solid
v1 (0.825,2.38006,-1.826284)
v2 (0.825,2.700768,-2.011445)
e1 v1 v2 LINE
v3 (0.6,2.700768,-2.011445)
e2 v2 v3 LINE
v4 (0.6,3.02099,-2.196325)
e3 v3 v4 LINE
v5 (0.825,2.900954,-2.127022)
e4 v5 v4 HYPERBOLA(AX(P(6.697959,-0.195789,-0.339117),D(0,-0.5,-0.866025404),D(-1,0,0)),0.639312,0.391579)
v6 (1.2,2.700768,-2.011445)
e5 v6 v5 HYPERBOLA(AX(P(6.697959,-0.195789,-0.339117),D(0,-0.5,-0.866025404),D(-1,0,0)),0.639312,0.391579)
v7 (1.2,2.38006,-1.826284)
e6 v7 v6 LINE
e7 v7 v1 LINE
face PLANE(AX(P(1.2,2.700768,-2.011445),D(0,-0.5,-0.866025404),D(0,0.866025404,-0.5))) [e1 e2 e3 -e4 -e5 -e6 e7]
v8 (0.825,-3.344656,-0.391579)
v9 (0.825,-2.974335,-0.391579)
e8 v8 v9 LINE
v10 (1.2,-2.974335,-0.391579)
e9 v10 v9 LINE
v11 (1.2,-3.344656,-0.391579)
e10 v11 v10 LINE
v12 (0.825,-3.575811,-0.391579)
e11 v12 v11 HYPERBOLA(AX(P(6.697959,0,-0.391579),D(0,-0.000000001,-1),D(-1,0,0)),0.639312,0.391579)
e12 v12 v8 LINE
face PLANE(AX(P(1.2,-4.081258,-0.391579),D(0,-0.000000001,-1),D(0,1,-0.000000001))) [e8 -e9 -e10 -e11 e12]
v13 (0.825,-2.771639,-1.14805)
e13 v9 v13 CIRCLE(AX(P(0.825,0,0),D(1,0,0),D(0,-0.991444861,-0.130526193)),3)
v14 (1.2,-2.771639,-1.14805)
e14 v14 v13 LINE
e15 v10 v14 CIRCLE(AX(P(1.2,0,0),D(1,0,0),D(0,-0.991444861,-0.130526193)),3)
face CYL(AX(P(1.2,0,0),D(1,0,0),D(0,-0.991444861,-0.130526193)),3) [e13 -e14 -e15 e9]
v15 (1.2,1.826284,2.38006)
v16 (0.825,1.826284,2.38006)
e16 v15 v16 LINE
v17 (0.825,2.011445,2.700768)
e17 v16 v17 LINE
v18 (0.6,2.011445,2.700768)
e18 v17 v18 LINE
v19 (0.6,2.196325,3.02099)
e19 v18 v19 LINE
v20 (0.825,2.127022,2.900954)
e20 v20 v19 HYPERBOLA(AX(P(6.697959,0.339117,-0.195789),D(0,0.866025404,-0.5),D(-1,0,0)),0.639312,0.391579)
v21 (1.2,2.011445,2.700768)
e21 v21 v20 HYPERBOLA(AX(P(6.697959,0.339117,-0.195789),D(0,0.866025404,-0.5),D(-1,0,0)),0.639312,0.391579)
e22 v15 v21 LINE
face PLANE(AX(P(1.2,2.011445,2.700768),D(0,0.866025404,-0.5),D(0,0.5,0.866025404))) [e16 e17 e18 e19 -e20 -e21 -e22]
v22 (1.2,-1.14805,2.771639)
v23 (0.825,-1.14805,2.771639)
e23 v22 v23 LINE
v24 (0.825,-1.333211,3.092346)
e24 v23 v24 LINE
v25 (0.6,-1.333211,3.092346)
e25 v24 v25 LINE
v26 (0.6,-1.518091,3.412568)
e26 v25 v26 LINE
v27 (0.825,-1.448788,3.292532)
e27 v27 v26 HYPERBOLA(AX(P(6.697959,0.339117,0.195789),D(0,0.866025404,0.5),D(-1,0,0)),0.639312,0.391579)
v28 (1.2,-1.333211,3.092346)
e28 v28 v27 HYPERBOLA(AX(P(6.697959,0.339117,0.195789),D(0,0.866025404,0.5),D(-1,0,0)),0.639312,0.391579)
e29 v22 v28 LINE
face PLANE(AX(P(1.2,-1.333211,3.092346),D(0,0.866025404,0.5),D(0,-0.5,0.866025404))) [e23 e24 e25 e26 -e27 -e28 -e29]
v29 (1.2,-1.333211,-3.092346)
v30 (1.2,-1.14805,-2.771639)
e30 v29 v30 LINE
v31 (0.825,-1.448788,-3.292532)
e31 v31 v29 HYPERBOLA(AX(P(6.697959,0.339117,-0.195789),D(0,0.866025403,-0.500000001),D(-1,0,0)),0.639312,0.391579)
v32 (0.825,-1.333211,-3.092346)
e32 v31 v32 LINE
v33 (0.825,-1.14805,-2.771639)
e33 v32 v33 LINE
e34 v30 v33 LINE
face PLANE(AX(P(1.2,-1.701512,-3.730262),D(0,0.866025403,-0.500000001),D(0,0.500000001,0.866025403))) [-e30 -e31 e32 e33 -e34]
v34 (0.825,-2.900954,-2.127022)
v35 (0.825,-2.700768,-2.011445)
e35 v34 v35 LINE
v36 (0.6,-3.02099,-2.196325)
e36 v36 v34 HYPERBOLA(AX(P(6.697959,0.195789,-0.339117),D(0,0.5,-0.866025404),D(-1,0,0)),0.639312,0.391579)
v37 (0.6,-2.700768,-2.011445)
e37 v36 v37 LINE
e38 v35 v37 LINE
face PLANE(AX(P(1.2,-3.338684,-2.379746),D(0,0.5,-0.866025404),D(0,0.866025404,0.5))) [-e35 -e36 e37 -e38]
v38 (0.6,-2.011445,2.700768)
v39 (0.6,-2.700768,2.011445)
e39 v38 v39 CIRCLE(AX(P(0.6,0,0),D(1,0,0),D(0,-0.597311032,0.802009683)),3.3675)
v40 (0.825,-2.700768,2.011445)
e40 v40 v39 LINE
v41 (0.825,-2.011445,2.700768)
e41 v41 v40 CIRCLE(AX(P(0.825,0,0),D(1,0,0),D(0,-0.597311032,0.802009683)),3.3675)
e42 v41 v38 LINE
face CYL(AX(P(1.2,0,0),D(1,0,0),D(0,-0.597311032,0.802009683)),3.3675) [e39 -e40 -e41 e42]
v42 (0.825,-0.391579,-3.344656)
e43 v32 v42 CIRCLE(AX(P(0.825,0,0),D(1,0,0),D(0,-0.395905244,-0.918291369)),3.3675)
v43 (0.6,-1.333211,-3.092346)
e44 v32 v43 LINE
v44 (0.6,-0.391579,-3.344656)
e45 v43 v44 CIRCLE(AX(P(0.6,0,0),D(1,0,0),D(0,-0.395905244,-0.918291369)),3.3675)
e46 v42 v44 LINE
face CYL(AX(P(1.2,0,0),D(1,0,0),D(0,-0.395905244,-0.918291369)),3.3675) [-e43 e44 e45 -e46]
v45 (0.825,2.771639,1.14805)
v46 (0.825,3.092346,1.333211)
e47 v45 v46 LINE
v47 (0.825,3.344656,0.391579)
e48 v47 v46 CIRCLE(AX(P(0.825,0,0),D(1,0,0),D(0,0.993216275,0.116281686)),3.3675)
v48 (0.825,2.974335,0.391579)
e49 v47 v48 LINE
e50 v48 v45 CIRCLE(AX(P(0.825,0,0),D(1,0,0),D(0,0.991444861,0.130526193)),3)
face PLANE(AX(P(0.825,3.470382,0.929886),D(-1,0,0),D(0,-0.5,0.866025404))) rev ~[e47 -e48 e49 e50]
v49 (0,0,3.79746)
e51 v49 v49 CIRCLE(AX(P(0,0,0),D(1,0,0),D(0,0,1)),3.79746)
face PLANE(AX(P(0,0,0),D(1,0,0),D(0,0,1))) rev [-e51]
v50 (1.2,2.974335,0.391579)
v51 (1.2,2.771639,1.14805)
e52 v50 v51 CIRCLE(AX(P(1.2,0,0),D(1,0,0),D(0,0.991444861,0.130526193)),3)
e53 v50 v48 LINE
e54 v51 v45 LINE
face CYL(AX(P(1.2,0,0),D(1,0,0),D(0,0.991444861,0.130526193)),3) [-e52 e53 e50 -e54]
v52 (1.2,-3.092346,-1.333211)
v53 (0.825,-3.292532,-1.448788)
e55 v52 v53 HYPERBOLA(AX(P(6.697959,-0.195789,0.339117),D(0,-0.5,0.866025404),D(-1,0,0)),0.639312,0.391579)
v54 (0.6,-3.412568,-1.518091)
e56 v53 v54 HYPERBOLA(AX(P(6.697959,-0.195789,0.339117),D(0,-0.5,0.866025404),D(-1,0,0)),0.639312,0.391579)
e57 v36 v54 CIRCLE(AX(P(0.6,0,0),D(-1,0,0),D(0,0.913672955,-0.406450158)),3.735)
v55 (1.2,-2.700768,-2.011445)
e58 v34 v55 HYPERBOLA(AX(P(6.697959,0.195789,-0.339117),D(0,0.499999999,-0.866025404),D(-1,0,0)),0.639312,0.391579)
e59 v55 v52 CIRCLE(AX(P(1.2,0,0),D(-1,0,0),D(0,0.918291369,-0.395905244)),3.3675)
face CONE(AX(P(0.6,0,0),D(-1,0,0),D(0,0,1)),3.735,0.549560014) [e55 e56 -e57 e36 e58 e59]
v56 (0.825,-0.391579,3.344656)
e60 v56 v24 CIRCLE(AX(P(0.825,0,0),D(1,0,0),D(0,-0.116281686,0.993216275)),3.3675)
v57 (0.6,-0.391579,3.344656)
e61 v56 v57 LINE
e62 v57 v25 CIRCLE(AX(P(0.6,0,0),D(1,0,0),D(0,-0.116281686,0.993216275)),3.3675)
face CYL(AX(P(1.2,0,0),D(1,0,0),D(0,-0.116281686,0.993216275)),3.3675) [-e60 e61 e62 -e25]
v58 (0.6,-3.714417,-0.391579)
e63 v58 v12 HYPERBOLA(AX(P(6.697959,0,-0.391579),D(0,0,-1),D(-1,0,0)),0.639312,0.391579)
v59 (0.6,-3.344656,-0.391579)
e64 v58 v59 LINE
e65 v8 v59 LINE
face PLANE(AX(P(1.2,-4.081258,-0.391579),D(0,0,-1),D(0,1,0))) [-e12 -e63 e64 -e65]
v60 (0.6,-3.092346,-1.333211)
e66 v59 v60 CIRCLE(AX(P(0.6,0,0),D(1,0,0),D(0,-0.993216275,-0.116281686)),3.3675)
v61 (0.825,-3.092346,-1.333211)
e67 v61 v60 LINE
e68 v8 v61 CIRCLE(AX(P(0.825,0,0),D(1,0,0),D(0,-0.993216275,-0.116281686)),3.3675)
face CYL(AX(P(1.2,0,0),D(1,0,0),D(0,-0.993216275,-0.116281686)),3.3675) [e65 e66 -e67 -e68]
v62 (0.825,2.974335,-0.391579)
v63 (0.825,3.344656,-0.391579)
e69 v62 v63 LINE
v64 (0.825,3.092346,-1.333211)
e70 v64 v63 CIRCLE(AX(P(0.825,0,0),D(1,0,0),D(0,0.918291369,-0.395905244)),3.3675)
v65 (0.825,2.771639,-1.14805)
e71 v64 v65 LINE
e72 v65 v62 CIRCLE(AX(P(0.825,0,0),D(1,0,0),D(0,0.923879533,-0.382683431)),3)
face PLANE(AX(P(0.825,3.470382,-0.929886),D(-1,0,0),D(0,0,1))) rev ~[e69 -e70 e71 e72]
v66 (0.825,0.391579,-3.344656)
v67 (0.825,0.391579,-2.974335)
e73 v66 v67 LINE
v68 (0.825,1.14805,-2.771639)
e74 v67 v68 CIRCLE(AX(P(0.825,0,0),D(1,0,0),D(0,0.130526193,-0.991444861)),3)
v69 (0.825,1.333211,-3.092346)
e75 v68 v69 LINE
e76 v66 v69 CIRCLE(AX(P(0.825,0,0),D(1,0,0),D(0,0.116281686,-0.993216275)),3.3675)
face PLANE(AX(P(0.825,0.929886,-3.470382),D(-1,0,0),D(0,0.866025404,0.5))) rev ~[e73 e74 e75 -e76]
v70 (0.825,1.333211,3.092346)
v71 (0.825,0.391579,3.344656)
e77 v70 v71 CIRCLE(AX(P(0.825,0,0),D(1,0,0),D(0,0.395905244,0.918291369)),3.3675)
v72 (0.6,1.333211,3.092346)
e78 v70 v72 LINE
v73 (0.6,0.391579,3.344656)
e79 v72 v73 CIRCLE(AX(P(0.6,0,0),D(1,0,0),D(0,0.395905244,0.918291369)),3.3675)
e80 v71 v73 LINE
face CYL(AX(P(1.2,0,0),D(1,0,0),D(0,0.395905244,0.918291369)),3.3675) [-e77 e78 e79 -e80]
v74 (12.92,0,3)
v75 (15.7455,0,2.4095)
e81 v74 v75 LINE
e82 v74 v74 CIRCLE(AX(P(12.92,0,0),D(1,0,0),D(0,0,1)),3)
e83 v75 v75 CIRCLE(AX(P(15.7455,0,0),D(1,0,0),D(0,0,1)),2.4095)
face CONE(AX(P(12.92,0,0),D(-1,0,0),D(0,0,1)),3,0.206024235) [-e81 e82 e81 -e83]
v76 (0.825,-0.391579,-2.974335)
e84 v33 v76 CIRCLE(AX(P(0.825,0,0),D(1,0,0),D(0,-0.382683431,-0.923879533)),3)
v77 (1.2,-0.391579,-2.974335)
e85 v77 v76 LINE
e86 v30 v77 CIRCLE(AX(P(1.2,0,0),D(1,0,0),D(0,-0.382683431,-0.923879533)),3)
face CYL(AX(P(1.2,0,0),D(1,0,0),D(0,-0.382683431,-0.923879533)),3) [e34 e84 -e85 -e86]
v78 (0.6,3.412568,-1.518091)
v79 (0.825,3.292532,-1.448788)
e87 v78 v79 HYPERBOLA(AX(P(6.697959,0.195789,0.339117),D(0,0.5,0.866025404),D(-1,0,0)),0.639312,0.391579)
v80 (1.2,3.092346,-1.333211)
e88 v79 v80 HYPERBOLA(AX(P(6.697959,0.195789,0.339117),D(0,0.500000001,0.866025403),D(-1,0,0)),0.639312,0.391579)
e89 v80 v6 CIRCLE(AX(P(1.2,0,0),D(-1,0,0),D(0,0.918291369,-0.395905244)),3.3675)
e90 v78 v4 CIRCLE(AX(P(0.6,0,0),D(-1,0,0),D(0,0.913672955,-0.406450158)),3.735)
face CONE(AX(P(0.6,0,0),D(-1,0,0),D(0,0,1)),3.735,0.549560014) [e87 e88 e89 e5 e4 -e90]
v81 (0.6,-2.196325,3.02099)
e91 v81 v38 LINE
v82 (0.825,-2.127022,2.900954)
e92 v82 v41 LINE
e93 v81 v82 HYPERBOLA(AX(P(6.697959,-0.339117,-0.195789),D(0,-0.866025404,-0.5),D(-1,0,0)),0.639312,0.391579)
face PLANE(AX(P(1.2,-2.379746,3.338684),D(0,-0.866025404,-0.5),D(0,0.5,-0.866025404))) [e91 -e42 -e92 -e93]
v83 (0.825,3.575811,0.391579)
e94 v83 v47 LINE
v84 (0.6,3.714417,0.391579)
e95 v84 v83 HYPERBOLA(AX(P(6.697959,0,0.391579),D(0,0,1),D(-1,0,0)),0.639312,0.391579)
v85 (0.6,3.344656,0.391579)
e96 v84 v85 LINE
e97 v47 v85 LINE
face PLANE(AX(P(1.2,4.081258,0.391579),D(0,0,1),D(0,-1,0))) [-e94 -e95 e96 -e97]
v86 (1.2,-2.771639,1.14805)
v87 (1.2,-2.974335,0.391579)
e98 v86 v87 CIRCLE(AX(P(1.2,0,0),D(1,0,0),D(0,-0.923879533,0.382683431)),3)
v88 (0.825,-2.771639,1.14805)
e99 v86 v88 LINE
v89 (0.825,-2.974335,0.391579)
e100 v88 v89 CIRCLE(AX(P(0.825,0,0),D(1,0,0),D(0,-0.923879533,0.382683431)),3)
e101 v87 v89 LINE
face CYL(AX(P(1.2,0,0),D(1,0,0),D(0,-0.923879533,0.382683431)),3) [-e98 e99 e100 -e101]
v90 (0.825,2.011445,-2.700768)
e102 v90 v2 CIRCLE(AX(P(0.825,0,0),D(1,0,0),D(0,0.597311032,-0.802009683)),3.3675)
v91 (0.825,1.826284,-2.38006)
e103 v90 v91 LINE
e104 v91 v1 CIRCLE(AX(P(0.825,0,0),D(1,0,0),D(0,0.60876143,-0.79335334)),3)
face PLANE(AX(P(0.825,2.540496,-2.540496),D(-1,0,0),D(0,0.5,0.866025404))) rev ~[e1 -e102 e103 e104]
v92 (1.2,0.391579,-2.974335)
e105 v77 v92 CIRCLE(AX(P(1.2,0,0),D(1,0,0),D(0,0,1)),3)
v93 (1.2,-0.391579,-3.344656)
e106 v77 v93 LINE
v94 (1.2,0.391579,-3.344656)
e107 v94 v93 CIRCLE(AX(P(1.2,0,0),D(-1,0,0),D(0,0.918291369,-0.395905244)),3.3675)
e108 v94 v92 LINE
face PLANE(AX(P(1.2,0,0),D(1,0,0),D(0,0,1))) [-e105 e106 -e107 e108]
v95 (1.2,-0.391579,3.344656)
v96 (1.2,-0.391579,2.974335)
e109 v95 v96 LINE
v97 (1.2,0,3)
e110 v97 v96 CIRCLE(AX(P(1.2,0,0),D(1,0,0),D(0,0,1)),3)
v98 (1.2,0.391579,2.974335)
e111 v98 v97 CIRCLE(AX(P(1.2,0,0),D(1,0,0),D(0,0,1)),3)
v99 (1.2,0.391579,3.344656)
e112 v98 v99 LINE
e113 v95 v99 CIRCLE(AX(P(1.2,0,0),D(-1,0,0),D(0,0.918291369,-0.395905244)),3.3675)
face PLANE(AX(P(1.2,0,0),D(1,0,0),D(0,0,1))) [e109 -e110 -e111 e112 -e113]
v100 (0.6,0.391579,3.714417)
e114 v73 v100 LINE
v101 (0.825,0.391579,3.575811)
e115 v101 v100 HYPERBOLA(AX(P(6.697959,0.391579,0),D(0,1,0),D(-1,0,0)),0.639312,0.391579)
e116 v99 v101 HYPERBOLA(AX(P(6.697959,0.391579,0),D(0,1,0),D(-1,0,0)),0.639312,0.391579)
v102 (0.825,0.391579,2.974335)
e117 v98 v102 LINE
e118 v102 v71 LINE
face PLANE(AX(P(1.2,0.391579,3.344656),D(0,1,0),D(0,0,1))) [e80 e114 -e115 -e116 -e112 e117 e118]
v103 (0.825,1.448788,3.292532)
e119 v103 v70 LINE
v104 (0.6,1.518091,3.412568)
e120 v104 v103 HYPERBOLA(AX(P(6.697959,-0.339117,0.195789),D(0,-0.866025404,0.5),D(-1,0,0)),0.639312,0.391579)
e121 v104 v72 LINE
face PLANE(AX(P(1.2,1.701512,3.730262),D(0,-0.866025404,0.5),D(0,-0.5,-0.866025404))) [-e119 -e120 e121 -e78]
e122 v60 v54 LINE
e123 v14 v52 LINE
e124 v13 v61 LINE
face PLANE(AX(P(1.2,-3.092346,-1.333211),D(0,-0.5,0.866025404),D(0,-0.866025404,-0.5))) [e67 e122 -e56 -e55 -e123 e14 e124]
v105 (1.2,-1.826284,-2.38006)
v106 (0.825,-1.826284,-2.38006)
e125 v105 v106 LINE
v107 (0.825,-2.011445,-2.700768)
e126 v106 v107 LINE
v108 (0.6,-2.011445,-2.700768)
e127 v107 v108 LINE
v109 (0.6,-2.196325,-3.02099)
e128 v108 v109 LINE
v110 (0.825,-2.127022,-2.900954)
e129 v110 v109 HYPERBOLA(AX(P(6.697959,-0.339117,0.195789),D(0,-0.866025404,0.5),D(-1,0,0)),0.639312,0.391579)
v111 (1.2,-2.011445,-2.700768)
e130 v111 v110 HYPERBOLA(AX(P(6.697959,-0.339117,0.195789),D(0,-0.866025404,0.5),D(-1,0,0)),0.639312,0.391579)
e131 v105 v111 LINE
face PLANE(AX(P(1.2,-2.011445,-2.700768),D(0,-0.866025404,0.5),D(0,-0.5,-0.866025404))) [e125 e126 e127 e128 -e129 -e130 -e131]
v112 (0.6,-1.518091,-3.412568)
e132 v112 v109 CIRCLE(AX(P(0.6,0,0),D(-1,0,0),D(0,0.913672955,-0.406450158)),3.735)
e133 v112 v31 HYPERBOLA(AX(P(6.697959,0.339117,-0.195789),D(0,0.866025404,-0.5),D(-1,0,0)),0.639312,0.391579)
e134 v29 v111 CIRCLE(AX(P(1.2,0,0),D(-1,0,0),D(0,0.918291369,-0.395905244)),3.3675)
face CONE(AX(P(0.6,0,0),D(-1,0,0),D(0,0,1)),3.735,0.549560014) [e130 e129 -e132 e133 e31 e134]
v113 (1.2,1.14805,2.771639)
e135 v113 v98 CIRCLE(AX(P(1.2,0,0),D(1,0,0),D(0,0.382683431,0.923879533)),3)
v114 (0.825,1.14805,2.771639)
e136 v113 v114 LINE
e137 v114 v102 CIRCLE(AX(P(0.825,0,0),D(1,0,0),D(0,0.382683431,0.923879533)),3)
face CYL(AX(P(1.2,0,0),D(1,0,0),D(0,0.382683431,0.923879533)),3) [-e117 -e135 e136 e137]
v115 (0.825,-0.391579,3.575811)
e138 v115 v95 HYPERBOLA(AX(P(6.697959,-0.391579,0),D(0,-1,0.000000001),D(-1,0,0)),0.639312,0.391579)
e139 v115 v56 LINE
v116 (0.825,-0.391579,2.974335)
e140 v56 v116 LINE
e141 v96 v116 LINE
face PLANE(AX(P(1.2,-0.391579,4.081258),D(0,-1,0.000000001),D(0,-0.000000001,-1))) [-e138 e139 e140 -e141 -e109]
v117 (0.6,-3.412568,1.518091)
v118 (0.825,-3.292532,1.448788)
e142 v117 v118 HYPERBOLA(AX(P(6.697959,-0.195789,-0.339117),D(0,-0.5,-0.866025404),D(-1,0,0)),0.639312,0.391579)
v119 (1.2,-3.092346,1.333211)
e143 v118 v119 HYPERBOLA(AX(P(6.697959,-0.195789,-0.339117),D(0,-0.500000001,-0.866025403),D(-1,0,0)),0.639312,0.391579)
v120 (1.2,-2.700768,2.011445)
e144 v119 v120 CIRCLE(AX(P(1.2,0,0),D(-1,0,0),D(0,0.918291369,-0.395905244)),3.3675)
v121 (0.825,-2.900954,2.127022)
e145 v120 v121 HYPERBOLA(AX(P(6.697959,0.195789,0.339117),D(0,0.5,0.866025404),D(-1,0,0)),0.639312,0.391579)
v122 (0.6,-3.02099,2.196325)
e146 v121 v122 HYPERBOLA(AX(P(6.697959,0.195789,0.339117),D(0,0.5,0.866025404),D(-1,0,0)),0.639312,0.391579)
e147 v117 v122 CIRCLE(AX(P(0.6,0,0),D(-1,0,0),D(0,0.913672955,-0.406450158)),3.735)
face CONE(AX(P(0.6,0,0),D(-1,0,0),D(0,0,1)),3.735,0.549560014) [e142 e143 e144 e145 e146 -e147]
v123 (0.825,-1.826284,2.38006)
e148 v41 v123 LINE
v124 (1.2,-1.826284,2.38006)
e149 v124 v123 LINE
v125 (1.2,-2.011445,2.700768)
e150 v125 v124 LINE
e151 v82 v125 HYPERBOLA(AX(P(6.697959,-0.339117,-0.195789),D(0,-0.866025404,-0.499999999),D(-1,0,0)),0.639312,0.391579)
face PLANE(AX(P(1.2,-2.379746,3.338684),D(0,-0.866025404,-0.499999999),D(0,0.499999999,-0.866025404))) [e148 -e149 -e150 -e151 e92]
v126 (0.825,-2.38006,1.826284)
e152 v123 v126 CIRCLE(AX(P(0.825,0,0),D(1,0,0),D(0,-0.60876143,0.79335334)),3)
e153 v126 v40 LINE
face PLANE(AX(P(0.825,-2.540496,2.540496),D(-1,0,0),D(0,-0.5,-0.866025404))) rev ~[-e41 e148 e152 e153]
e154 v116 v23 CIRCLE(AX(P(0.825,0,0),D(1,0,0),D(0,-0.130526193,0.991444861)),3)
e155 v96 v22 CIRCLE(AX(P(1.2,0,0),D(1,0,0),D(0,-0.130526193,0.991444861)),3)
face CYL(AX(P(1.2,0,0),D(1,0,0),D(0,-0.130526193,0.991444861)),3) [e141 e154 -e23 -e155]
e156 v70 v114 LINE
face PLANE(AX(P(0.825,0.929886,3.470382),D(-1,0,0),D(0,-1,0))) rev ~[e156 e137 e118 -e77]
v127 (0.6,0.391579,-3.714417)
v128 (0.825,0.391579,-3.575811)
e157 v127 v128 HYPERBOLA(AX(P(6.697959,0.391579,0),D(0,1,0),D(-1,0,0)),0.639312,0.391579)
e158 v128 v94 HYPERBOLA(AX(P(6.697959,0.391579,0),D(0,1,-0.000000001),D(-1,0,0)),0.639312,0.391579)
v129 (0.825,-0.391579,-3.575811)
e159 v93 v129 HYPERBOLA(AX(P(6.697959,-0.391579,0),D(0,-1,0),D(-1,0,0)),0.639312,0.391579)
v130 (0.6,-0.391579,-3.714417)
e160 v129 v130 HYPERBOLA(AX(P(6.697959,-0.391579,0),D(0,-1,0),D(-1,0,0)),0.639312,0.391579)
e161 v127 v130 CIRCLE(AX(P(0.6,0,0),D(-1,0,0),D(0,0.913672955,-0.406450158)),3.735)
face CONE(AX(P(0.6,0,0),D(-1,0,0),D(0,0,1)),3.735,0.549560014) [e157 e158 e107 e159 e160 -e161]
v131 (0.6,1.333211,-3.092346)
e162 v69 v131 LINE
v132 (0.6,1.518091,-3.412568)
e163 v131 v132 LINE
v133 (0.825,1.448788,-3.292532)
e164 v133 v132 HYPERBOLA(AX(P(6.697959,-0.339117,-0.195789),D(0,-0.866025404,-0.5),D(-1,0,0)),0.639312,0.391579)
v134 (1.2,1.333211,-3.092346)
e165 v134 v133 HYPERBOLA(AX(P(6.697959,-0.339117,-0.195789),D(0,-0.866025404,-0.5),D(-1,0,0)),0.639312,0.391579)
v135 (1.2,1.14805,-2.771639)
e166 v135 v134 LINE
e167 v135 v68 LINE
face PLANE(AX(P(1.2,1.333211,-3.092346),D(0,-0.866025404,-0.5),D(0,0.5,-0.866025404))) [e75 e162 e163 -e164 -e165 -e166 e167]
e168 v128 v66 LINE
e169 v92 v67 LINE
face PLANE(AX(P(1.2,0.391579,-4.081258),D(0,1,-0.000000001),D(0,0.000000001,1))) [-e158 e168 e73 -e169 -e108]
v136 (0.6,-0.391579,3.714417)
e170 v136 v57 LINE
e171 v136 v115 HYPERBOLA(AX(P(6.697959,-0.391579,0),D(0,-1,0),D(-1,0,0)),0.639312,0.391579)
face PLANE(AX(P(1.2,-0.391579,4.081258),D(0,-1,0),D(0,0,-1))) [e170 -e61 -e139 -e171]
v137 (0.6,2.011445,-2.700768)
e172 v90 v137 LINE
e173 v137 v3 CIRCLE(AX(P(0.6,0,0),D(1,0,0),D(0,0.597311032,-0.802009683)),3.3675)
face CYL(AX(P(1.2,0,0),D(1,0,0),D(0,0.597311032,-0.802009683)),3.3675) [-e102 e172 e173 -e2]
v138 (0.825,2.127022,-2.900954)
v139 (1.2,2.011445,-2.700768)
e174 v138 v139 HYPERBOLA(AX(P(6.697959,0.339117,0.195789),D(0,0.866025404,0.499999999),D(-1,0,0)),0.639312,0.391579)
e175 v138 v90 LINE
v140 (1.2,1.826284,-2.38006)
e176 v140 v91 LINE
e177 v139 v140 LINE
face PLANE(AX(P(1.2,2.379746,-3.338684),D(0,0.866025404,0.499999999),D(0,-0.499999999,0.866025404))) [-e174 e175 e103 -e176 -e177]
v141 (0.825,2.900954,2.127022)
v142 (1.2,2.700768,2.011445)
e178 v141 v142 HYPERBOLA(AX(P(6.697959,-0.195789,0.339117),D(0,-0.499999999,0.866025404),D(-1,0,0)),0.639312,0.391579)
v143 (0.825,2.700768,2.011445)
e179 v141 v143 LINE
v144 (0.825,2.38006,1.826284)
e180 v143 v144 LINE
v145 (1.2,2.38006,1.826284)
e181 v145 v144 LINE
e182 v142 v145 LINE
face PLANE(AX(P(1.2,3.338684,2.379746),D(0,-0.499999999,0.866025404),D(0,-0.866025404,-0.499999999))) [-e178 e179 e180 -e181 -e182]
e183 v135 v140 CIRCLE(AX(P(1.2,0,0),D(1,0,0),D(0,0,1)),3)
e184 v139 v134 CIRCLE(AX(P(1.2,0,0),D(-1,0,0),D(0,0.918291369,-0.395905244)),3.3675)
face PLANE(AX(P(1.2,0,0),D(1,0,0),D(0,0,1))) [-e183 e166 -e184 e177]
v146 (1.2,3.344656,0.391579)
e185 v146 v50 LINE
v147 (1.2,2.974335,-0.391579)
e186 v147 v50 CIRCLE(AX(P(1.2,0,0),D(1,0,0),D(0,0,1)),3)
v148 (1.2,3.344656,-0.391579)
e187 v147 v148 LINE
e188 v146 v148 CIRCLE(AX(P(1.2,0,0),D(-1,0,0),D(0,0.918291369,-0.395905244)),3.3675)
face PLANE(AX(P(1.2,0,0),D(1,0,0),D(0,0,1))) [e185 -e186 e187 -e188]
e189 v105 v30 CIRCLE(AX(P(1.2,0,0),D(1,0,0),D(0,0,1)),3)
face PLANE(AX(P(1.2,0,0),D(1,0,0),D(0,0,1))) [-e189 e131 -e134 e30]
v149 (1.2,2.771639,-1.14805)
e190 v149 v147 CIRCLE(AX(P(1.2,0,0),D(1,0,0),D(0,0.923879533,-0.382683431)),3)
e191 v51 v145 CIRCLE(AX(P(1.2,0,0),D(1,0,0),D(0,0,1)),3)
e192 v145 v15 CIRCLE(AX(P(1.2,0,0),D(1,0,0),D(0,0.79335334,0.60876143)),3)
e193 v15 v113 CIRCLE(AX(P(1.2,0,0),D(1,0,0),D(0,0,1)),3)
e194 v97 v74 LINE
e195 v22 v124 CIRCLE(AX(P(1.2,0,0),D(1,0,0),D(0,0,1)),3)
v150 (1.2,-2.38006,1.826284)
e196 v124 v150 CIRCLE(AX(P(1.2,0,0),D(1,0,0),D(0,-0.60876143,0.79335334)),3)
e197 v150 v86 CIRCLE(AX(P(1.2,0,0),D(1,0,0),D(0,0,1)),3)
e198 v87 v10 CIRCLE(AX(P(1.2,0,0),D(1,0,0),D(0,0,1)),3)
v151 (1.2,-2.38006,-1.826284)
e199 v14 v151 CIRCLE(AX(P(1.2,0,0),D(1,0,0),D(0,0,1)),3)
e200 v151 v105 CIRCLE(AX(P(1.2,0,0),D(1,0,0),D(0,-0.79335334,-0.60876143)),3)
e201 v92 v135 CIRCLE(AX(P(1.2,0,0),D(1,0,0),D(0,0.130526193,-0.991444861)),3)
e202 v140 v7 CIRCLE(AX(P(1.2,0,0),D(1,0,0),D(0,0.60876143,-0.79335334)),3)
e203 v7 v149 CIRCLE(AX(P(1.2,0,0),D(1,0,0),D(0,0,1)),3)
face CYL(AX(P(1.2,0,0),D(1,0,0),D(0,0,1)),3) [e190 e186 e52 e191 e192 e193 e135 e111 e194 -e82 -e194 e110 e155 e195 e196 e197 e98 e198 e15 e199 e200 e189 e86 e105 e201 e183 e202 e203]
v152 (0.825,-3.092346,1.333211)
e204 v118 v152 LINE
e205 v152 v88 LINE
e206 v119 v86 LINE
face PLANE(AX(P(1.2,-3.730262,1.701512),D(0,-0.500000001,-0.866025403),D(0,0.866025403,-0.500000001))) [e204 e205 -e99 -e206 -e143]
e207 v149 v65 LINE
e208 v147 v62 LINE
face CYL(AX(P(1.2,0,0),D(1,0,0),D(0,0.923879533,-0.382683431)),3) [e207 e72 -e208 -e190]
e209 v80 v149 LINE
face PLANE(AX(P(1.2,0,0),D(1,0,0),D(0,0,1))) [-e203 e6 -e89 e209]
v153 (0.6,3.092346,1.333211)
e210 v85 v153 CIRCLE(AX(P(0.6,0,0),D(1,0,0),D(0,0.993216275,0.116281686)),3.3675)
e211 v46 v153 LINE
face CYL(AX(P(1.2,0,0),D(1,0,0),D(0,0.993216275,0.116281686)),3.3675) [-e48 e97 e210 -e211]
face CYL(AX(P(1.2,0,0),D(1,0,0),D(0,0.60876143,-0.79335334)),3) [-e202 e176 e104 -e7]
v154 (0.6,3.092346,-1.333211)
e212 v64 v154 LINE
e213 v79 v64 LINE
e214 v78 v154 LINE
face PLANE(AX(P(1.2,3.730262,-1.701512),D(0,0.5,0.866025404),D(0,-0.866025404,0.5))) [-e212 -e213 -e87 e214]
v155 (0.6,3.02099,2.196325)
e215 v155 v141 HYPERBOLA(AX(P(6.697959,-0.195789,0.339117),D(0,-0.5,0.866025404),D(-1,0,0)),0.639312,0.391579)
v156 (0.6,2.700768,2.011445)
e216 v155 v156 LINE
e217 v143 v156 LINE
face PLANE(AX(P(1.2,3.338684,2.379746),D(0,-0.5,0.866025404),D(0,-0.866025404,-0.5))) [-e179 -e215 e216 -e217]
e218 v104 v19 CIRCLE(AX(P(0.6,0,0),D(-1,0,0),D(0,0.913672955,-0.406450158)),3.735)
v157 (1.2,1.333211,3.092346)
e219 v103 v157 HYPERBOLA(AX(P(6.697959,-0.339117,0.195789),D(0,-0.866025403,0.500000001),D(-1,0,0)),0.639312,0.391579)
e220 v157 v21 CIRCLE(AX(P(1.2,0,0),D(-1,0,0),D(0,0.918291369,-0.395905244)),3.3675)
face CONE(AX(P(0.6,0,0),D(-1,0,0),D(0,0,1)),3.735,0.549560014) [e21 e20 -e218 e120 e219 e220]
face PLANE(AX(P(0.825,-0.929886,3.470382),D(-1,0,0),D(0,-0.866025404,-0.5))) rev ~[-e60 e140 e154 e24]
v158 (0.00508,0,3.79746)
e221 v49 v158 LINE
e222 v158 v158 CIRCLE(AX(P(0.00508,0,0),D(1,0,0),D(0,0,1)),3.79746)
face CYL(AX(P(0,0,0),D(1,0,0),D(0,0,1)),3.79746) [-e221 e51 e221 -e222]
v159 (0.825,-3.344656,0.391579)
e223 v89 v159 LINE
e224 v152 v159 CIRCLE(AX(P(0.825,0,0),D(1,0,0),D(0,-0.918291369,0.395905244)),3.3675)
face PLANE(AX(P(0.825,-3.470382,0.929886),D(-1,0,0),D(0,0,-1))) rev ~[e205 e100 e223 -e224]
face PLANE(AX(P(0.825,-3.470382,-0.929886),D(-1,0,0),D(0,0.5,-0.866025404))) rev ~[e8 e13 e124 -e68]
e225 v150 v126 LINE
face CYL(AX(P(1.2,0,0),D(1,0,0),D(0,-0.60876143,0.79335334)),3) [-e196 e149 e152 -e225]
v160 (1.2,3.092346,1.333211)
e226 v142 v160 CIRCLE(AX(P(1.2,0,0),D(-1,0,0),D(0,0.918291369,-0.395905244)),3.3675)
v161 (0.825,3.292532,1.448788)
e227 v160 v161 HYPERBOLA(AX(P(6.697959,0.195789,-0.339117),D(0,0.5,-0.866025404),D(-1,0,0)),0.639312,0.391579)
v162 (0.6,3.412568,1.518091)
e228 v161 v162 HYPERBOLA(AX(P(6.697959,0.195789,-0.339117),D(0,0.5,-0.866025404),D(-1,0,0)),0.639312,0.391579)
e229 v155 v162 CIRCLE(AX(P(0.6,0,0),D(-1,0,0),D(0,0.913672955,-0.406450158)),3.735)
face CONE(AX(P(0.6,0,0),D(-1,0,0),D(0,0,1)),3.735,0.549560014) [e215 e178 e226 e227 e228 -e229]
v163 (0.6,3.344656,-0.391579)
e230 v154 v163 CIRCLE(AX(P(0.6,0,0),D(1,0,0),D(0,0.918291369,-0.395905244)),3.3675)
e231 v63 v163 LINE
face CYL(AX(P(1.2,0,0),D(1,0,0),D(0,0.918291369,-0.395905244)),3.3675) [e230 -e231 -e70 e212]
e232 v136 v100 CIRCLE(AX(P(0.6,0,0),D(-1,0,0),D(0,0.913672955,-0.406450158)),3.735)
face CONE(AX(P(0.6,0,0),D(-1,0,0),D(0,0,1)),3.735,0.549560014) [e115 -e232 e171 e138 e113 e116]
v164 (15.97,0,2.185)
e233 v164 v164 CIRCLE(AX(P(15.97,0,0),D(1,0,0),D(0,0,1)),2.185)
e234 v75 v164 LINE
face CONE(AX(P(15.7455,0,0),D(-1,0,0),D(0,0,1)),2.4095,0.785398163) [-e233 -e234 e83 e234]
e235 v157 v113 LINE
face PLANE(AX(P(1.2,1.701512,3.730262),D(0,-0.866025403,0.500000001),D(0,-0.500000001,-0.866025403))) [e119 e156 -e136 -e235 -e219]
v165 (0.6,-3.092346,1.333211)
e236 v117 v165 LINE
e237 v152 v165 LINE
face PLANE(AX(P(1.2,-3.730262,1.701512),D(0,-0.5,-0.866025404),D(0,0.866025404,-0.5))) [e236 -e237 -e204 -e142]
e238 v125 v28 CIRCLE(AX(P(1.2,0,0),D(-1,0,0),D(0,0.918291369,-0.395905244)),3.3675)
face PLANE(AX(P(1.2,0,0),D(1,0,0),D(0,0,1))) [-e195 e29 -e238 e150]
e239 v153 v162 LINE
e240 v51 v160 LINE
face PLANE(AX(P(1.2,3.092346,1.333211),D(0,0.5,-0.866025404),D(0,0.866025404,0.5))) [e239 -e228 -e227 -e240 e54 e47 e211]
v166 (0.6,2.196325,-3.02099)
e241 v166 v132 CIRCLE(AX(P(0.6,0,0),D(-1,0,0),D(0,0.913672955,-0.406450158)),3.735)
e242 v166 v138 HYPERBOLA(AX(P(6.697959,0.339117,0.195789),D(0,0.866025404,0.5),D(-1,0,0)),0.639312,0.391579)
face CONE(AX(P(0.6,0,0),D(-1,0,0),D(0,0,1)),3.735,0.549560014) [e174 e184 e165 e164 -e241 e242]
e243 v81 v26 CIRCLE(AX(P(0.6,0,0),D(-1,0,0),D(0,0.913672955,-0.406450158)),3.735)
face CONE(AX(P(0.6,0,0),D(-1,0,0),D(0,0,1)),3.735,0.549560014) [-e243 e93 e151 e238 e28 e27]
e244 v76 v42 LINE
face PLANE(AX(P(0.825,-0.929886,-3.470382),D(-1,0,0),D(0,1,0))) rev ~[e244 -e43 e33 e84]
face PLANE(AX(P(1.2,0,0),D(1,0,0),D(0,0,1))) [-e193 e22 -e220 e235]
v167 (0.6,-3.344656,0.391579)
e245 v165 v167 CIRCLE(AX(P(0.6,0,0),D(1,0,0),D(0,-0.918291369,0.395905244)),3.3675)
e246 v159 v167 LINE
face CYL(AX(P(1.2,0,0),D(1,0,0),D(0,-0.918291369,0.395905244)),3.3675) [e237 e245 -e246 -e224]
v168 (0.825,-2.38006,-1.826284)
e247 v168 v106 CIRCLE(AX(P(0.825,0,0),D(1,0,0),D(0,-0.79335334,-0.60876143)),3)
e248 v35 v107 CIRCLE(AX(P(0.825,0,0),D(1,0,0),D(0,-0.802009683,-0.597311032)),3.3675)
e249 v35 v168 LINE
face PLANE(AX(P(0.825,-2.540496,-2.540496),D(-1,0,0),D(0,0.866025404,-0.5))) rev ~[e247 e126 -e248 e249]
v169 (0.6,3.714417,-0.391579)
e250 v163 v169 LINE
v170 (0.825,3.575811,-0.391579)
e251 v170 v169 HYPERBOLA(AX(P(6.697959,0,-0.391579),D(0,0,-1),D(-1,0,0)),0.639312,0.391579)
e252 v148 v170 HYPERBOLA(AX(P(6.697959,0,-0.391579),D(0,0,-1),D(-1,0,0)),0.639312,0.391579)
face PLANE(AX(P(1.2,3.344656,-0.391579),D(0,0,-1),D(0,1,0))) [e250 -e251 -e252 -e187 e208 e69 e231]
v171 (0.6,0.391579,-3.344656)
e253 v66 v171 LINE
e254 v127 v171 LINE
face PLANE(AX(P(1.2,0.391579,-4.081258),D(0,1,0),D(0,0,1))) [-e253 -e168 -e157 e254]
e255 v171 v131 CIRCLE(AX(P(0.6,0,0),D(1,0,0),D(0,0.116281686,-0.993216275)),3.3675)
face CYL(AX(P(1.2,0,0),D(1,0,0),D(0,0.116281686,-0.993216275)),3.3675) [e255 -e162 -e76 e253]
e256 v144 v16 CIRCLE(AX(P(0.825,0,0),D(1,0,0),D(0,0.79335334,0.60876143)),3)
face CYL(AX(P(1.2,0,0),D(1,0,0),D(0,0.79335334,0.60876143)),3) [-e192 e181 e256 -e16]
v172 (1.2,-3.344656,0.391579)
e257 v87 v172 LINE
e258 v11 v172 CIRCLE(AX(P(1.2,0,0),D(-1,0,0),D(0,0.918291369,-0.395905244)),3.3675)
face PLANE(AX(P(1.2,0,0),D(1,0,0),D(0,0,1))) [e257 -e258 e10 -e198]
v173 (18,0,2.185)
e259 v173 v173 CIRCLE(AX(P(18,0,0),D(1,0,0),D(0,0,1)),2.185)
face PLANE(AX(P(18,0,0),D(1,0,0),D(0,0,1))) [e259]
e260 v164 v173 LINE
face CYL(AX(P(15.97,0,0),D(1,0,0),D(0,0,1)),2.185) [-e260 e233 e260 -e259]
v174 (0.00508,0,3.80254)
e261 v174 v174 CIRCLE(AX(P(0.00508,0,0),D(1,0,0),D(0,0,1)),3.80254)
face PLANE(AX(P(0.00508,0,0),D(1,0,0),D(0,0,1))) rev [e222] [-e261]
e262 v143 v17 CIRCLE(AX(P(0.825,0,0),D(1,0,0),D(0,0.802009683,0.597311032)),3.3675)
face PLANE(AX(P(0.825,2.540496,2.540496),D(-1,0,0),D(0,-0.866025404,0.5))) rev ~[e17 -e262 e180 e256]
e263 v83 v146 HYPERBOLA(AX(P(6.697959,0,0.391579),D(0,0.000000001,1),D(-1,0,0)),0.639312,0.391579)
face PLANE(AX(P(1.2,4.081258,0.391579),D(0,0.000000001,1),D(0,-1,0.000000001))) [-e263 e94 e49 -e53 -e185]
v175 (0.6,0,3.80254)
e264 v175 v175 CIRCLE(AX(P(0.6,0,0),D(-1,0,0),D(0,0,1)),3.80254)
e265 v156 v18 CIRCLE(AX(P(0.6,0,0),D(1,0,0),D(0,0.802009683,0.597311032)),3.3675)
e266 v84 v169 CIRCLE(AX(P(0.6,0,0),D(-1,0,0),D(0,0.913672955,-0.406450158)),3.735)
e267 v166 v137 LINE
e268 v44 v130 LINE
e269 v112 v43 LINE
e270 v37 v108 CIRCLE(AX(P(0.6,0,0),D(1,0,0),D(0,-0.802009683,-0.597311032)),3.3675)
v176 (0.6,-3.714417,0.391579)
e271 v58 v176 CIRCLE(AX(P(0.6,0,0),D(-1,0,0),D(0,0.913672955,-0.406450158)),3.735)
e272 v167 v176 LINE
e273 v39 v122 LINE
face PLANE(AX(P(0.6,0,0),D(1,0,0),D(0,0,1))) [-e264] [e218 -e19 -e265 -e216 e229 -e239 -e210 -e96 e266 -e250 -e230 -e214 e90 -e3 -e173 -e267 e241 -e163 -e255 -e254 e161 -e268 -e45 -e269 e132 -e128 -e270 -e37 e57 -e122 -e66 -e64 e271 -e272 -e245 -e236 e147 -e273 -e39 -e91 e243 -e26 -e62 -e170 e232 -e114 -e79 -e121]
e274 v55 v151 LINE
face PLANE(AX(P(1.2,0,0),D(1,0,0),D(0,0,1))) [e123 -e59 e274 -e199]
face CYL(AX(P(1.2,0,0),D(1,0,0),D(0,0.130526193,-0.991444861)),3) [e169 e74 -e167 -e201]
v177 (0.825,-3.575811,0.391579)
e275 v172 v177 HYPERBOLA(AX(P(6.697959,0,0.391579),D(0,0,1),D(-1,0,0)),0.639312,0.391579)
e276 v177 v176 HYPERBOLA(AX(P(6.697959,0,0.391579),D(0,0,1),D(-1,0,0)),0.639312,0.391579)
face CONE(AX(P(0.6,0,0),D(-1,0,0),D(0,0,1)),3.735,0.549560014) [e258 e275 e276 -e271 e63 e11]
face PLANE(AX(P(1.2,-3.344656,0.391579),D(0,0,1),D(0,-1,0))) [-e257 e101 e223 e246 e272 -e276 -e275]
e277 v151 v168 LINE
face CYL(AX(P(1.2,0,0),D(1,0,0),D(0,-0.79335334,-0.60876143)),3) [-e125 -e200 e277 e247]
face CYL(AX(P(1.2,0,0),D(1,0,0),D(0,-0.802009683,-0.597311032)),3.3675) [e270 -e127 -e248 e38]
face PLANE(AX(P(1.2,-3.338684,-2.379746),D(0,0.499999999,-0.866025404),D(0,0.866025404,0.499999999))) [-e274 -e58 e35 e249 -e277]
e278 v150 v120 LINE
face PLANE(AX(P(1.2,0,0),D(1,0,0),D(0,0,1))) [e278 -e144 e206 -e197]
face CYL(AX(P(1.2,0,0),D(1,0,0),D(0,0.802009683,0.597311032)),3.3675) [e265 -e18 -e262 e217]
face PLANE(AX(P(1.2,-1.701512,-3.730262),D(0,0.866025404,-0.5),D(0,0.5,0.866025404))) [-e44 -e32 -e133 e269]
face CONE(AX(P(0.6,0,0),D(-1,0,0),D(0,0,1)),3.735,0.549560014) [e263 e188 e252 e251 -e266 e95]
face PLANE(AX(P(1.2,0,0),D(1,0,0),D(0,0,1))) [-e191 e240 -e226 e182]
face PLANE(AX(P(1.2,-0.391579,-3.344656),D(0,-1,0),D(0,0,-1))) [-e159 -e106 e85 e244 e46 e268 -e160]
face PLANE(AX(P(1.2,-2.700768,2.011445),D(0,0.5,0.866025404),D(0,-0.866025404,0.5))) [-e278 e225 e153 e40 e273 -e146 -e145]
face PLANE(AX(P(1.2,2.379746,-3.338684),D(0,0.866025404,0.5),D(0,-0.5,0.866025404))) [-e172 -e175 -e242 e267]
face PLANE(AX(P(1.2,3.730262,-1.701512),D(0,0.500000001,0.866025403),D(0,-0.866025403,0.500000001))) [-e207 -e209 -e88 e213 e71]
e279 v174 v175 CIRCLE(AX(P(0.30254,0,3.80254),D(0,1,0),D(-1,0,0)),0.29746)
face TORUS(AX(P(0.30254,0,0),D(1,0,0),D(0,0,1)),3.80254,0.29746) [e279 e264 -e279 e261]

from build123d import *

# Parameters (mm, degrees)
RIBCUT1_DEPTH    = 0.375
RIBCUT2_DEPTH    = 0.6
RIBCUTSPAT_COUNT = 12
RIBCUTSPAT_ANGLE = 330


with BuildPart() as part:
    # BodySke → BaseBody (revolve)
    with BuildSketch(Plane.XY, mode=Mode.PRIVATE) as basebody_sk:
        with BuildLine():
            Line((0, 0), (0, 3.79746))
            Line((0, 3.79746), (0.00508, 3.79746))
            Line((0.00508, 3.79746), (0.00508, 3.80254))
            ThreePointArc((0.00508, 3.80254), (0.30254, 4.1), (0.6, 3.80254))
            Line((0.6, 3.80254), (0.6, 3.735))
            Line((0.6, 3.735), (1.2, 3.3675))
            Line((1.2, 3.3675), (1.2, 3))
            Line((1.2, 3), (12.92, 3))
            Line((12.92, 3), (15.7455, 2.4095))
            Line((15.7455, 2.4095), (15.97, 2.185))
            Line((15.97, 2.185), (18, 2.185))
            Line((18, 2.185), (18, 0))
            Line((18, 0), (0, 0))
        make_face()
    revolve(basebody_sk.sketch.rotate(Axis((0, 0, 0), (1, 0, 0)), 90), axis=Axis((0, 0, 0), (1, 0, 0)))

    # RibCut1Ske → RibCut1 (cut)
    with BuildSketch(Plane(origin=(1.2, 0, 0), x_dir=(0, 0, -1), z_dir=(1, 0, 0))):
        with BuildLine():
            Line((0.391578577, 2.974334584), (0.391578577, 4.081257921))
            ThreePointArc((0.391578577, 4.081257921), (1.061158085, 3.960295888), (1.701511966, 3.730262327))
            Line((1.701511966, 3.730262327), (1.148050297, 2.771638598))
            ThreePointArc((1.148050297, 2.771638598), (0.776457135, 2.897777479), (0.391578577, 2.974334584))
        make_face()
    ribcut1 = extrude(amount=-RIBCUT1_DEPTH, mode=Mode.SUBTRACT)

    # RibCut2Ske → RibCut2 (cut)
    with BuildSketch(Plane(origin=(1.2, 0, 0), x_dir=(0, 0, -1), z_dir=(1, 0, 0))):
        with BuildLine():
            Line((0.391578577, 3.344655807), (0.391578577, 4.081257921))
            ThreePointArc((0.391578577, 4.081257921), (1.061158085, 3.960295888), (1.701511966, 3.730262327))
            Line((1.701511966, 3.730262327), (1.333210909, 3.092346184))
            ThreePointArc((1.333210909, 3.092346184), (0.871573134, 3.25275522), (0.391578577, 3.344655807))
        make_face()
    ribcut2 = extrude(amount=-RIBCUT2_DEPTH, mode=Mode.SUBTRACT)

    # RibCutsPat: RibCut1, RibCut2 ×12 about axis
    ribcutspat_axis = Axis((0, 0, 0), (1, 0, 0))
    add([ribcut1.rotate(ribcutspat_axis, i * RIBCUTSPAT_ANGLE / (RIBCUTSPAT_COUNT - 1)) for i in range(1, RIBCUTSPAT_COUNT)], mode=Mode.SUBTRACT)
    add([ribcut2.rotate(ribcutspat_axis, i * RIBCUTSPAT_ANGLE / (RIBCUTSPAT_COUNT - 1)) for i in range(1, RIBCUTSPAT_COUNT)], mode=Mode.SUBTRACT)


solid = part.part
